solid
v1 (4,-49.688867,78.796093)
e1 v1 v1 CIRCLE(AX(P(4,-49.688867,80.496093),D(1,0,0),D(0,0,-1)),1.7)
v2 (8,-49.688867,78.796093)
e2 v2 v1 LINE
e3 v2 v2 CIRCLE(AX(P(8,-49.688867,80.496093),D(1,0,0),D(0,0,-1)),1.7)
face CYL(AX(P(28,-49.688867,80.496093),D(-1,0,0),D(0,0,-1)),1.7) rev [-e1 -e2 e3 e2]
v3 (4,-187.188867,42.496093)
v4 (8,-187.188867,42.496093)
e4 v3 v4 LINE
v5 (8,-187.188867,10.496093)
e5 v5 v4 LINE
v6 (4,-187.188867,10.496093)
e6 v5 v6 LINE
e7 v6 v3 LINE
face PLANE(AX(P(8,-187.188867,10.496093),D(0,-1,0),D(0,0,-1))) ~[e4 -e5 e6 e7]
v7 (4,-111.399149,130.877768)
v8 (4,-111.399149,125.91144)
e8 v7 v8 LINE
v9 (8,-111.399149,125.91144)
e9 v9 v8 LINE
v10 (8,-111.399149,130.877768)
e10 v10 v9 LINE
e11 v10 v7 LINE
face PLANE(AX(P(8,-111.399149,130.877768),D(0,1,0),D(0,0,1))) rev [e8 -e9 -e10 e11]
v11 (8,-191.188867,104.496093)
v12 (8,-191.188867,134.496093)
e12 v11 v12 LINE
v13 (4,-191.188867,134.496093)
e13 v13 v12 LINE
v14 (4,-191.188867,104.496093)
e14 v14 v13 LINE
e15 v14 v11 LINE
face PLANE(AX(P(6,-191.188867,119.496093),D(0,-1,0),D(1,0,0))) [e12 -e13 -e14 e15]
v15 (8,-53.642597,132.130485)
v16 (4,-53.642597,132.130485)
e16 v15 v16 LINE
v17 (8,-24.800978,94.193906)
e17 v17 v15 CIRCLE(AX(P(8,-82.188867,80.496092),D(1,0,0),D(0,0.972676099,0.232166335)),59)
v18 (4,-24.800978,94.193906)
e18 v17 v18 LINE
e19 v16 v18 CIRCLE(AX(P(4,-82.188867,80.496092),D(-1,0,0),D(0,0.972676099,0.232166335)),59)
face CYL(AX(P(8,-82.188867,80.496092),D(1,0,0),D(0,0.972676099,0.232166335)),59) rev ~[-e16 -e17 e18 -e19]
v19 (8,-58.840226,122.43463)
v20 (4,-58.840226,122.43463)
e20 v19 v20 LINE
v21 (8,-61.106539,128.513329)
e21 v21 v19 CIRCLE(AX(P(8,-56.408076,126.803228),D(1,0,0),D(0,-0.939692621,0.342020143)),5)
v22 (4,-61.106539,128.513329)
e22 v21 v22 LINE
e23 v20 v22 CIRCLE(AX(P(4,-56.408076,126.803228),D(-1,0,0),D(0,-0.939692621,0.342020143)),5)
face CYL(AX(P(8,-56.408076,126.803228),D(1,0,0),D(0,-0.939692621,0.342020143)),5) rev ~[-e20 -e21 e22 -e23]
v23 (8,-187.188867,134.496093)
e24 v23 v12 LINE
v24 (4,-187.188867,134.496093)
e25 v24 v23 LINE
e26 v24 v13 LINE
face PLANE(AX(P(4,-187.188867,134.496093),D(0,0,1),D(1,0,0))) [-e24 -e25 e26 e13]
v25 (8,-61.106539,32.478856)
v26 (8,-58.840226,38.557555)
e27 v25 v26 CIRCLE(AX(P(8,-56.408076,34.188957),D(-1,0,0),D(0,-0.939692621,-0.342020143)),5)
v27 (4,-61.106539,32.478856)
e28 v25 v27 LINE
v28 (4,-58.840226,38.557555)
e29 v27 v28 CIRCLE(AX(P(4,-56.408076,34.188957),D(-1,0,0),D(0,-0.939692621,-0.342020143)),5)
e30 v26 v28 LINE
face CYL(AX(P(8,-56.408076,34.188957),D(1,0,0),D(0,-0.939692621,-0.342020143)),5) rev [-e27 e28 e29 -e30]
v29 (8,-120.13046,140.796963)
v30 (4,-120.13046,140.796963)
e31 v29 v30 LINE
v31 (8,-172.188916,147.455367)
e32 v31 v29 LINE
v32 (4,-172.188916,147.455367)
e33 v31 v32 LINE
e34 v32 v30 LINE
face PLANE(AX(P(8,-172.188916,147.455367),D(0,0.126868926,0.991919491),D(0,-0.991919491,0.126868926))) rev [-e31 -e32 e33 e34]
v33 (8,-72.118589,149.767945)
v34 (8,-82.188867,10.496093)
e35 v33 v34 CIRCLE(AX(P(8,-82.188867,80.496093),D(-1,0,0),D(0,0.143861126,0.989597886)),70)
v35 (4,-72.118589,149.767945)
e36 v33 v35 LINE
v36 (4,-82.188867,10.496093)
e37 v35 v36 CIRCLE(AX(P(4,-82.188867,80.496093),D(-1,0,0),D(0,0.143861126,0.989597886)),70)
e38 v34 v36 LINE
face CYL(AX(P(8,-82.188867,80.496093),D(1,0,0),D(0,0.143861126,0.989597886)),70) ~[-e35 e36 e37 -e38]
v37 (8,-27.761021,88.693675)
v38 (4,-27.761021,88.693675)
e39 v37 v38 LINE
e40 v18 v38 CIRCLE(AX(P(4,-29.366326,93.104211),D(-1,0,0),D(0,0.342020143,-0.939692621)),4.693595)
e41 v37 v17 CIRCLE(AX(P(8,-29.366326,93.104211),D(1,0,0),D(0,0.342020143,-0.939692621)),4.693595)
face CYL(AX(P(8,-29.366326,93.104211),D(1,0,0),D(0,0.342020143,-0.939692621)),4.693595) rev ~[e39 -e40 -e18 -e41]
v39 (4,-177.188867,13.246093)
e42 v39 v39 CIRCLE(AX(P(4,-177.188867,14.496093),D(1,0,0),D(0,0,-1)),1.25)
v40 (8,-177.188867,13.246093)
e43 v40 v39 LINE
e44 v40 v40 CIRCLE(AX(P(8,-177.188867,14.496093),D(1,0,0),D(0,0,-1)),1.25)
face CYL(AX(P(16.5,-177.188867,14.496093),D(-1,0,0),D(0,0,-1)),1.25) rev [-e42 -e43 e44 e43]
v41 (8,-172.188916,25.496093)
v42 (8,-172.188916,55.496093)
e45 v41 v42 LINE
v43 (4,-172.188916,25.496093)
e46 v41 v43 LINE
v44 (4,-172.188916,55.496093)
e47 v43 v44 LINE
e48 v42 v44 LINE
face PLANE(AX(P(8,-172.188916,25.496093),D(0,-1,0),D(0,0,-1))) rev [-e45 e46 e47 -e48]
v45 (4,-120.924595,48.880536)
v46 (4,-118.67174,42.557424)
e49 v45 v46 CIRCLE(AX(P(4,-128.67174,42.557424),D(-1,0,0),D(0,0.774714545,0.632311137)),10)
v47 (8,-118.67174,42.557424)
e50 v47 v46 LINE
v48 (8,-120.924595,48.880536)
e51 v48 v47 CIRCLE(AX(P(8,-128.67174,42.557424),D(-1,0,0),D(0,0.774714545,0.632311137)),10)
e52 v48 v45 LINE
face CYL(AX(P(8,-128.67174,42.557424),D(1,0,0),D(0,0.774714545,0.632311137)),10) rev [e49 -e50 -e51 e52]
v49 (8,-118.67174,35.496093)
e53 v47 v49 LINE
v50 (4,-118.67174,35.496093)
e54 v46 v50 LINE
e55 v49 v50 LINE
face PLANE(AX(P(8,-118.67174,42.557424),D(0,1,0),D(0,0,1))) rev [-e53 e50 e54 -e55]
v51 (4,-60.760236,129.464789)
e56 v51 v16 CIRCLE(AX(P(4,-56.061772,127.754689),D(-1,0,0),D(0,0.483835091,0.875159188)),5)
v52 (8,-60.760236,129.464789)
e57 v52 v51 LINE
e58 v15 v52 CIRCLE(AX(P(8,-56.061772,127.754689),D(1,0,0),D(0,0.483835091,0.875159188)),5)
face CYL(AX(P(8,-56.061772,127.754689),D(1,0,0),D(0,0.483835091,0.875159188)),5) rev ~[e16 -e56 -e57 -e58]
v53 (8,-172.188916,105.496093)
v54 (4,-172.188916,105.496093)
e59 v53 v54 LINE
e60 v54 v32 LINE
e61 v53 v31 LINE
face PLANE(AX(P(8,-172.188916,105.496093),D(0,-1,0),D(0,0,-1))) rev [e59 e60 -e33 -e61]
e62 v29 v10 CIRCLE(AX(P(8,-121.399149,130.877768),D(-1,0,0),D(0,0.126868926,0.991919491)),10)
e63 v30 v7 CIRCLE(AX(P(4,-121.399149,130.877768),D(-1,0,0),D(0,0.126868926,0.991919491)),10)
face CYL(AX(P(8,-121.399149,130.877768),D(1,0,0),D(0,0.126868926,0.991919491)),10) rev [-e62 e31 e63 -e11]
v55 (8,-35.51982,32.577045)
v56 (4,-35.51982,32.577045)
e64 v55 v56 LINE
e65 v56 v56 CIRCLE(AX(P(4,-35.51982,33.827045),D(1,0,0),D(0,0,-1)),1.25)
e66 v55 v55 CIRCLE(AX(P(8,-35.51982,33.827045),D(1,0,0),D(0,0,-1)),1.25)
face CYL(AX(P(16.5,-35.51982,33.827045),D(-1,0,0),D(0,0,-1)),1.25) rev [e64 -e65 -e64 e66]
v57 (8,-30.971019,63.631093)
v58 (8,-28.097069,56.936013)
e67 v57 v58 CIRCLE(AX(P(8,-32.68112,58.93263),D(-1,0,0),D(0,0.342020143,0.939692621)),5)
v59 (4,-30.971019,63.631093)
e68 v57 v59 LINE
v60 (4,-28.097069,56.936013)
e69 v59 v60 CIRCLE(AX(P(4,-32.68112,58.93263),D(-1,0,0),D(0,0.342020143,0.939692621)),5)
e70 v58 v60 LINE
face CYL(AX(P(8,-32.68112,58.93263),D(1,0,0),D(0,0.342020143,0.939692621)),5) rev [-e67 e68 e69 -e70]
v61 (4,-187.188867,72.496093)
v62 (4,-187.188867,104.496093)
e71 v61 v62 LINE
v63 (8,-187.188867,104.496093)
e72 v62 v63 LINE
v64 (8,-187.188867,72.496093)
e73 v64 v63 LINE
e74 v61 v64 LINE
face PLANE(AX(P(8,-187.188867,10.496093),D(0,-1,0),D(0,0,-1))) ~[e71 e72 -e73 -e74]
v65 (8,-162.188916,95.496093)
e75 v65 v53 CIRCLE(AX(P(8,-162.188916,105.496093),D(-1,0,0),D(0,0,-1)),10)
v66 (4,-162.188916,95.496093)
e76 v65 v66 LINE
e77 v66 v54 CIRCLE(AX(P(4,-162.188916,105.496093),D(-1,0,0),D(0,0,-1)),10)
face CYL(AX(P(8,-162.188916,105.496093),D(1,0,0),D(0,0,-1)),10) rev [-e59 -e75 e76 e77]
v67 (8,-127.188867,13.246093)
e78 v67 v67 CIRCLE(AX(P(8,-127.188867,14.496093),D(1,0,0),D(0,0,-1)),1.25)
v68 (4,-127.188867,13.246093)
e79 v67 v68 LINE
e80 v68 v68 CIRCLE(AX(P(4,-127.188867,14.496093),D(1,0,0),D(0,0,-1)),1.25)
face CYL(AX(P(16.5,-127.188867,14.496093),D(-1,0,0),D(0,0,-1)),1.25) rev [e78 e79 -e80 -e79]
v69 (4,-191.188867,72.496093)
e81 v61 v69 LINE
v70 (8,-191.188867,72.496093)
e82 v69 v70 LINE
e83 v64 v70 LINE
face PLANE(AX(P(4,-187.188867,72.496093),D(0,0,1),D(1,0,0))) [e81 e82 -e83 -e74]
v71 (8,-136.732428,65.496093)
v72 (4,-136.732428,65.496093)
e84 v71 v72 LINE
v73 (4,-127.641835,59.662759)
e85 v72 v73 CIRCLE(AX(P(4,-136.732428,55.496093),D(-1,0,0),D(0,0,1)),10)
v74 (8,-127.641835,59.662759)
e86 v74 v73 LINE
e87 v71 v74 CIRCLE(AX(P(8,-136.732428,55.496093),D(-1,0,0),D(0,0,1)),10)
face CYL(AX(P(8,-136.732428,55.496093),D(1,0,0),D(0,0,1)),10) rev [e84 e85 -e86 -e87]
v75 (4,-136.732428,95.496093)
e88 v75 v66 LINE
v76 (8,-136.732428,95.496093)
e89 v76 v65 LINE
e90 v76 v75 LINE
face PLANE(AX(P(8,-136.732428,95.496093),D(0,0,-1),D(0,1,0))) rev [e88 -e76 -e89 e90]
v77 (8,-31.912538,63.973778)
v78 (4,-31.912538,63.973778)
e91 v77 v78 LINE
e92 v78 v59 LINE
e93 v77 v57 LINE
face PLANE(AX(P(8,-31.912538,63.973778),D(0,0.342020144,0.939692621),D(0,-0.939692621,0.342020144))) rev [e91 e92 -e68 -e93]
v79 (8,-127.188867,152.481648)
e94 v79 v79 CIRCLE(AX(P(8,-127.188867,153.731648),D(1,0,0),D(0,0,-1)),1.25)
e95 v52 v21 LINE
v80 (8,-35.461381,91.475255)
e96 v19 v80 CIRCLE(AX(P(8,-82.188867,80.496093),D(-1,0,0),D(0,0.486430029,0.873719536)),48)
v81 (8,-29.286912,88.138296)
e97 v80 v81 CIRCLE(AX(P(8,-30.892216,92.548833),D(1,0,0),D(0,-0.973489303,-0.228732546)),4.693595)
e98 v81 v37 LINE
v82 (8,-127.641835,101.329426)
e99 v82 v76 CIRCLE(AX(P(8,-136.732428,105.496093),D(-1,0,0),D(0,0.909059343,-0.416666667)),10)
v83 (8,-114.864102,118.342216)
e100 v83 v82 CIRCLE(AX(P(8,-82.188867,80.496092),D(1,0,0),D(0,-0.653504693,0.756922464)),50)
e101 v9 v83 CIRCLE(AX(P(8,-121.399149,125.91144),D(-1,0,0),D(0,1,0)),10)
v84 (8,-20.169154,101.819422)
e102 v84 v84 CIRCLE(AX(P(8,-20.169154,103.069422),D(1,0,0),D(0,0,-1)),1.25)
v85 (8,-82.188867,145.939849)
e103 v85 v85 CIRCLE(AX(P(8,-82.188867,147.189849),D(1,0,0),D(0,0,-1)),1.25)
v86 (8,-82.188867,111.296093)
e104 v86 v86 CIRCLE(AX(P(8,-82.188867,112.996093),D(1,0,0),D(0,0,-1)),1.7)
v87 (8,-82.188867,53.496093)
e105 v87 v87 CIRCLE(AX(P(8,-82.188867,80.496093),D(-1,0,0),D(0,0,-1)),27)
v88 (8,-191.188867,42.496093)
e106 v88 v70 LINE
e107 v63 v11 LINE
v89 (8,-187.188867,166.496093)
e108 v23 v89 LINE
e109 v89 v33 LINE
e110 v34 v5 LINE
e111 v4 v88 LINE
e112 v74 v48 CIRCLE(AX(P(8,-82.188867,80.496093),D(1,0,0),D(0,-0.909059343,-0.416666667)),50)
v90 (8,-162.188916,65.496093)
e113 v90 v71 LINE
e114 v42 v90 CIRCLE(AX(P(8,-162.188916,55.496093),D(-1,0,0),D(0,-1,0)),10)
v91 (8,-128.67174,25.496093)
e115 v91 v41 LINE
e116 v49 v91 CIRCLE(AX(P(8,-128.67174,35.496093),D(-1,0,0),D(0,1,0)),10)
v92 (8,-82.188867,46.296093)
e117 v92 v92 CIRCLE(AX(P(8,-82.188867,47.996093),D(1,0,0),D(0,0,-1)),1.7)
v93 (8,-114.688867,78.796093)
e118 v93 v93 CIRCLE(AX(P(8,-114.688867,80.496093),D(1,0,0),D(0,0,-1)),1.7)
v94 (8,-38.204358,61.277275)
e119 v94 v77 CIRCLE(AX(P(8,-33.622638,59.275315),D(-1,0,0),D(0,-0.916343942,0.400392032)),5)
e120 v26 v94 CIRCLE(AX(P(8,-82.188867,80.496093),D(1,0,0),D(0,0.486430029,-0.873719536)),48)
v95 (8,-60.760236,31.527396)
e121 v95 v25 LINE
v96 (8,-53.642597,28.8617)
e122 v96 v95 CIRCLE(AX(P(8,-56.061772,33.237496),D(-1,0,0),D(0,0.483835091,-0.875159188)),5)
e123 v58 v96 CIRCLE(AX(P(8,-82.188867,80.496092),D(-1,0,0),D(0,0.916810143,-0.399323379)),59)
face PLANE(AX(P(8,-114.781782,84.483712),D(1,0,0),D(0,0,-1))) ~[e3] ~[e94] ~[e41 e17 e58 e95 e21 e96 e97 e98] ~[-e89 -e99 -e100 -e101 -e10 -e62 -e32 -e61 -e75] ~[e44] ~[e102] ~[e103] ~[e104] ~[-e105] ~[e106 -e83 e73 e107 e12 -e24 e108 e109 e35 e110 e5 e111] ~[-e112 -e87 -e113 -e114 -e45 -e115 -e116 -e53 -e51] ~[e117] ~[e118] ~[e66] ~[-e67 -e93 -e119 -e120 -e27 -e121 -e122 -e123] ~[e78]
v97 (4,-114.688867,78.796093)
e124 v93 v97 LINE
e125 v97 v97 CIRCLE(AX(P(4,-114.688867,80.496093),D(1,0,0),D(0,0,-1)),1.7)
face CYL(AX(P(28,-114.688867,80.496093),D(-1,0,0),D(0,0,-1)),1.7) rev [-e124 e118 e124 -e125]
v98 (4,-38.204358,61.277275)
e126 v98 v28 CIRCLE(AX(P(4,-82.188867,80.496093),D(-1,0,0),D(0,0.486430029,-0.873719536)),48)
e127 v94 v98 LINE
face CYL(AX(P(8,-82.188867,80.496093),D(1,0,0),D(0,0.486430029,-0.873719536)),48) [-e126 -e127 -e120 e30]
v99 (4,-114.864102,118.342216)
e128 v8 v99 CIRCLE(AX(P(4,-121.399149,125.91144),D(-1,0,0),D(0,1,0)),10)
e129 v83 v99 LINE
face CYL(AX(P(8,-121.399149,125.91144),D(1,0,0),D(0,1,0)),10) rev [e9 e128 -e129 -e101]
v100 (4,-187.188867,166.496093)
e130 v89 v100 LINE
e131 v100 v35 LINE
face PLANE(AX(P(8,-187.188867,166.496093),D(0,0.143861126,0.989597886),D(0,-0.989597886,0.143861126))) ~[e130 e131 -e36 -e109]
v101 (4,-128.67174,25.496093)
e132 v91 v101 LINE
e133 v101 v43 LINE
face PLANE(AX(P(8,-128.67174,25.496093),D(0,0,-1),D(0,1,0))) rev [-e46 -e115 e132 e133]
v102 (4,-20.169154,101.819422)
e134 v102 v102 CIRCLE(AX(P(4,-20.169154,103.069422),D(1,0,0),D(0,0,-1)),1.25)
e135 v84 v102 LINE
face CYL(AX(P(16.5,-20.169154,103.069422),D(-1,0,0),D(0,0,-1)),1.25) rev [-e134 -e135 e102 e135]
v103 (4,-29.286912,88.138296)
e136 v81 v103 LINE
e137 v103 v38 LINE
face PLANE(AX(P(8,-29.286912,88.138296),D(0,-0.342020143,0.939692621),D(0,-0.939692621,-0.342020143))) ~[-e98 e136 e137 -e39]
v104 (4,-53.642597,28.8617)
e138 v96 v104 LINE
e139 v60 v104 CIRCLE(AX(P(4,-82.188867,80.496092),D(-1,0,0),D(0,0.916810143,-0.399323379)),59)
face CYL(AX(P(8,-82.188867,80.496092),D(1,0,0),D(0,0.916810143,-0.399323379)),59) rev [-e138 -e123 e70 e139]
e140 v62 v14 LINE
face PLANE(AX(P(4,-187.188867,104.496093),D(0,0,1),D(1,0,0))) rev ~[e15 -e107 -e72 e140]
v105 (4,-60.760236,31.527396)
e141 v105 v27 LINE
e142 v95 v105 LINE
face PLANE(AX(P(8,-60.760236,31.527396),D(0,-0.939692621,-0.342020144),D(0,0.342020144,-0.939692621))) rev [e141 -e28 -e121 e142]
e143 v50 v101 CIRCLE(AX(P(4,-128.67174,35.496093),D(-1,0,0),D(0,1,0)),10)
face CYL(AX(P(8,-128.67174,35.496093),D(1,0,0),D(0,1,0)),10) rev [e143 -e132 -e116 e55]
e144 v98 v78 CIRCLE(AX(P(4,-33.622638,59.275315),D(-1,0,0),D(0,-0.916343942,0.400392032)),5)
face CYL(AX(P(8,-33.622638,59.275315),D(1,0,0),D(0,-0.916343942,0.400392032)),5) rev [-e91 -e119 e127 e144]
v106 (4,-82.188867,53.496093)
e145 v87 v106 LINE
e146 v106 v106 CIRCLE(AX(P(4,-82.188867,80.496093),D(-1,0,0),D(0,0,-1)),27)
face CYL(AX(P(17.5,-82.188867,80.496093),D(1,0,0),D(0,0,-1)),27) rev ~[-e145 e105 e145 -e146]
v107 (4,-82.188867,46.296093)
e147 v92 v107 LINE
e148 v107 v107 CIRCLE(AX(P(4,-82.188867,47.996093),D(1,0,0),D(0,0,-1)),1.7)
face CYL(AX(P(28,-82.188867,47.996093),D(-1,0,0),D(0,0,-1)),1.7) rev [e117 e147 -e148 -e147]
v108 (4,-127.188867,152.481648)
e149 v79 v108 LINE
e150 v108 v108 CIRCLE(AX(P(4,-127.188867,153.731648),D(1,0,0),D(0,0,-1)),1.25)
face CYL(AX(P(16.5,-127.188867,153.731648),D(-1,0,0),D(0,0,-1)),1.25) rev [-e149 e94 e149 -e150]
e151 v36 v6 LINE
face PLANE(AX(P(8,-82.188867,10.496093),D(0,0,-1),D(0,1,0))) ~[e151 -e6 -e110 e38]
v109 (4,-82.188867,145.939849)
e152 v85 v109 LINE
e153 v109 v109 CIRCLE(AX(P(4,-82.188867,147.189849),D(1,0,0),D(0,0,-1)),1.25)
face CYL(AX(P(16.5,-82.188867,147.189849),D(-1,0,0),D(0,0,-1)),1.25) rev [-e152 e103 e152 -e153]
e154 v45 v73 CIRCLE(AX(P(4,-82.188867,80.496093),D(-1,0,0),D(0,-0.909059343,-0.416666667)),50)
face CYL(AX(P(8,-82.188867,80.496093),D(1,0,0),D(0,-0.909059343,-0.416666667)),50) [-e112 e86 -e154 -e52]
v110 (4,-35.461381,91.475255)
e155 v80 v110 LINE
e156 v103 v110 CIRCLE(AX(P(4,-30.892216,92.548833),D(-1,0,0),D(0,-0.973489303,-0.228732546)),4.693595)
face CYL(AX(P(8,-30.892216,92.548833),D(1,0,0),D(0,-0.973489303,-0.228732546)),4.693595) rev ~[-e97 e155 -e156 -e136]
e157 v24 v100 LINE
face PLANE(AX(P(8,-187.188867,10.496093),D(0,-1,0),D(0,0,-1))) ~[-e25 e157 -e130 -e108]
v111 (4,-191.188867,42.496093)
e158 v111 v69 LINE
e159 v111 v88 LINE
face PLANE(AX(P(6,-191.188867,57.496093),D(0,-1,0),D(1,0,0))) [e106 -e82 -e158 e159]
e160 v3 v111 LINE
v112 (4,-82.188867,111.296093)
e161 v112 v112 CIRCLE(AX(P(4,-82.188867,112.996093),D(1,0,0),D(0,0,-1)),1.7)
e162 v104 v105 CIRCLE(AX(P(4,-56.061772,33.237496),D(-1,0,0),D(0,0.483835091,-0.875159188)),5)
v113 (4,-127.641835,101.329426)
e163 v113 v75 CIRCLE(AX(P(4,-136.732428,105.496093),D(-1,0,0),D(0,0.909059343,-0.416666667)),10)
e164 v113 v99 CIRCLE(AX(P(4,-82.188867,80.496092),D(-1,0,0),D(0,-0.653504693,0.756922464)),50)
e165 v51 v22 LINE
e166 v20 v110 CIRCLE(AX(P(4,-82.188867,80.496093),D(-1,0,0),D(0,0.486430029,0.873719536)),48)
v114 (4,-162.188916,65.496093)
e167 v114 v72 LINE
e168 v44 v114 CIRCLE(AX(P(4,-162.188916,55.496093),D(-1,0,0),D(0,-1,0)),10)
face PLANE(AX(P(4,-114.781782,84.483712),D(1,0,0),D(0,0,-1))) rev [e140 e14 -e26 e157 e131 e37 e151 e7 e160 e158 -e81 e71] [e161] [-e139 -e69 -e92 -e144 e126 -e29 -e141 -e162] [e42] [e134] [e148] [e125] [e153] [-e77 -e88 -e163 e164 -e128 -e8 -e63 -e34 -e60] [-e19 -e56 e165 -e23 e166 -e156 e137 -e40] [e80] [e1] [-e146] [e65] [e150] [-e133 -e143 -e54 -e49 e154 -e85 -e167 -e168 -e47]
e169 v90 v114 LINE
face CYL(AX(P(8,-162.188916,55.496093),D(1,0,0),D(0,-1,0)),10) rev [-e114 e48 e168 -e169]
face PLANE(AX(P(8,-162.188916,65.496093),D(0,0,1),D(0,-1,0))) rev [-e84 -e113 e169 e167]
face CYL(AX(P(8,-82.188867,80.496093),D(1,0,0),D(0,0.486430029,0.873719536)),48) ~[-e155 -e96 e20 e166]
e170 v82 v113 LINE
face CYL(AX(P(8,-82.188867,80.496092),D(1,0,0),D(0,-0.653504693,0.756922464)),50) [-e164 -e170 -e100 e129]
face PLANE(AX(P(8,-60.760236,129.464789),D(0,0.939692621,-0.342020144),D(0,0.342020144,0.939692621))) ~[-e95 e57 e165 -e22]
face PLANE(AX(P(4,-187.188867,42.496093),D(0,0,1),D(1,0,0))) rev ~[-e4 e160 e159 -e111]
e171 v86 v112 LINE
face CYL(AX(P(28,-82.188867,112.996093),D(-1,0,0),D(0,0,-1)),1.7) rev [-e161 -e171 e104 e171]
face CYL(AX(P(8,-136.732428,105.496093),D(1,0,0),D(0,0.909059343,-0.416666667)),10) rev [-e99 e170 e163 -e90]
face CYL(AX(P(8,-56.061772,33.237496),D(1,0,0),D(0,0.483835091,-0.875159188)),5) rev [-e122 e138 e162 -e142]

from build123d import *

# Parameters (mm, degrees)
AUFSATZ_LINEAR_AUSTRAGEN3_DEPTH      = 4
SCHNITT_LINEAR_AUSTRAGEN5_DEPTH      = 9.5
SCHNITT_LINEAR_AUSTRAGEN5_DEPTH_BACK = 9.5
SKIZZE2_24_R                         = 27
DURCHGANGSLOCH_F_R_M31_D             = 3.4
DURCHGANGSLOCH_F_R_M31_DEPTH         = 20
DURCHGANGSLOCH_F_R_M31_TIP           = 1.021463052
M3_GEWINDEBOHRUNG1_D                 = 2.5
M3_GEWINDEBOHRUNG1_DEPTH             = 8.5
M3_GEWINDEBOHRUNG1_TIP               = 0.751075774
SCHNITT_LINEAR_AUSTRAGEN6_DEPTH      = 11.5
SCHNITT_LINEAR_AUSTRAGEN7_DEPTH      = 251.552631004
SKIZZE13_W                           = 4
SKIZZE13_H                           = 30
AUFSATZ_LINEAR_AUSTRAGEN4_DEPTH      = 4


with BuildPart() as part:
    # Skizze2 → Aufsatz-Linear austragen3 (new body)
    with BuildSketch(Plane(origin=(0, 0, 0), x_dir=(0, 0, -1), z_dir=(1, 0, 0))):
        with BuildLine():
            Line((-10.496092502, -82.188867417), (-10.496092502, -187.188867417))
            Line((-10.496092502, -187.188867417), (-166.496092502, -187.188867417))
            Line((-166.496092502, -187.188867417), (-149.76794454, -72.118588605))
            ThreePointArc((-149.76794454, -72.118588605), (-75.447807774, -12.371141721), (-10.496092502, -82.188867417))
        make_face()
    extrude(amount=AUFSATZ_LINEAR_AUSTRAGEN3_DEPTH)

    # Skizze2<24> → Schnitt-Linear austragen5 (cut, two sides: drawn at the far end of the back side and taken through both)
    with BuildSketch(Plane(origin=(0, 0, 0), x_dir=(0, 0, -1), z_dir=(1, 0, 0)).offset(-SCHNITT_LINEAR_AUSTRAGEN5_DEPTH_BACK)):
        with Locations((-80.496092502, -82.188867417)):
            Circle(SKIZZE2_24_R)
    extrude(amount=SCHNITT_LINEAR_AUSTRAGEN5_DEPTH + SCHNITT_LINEAR_AUSTRAGEN5_DEPTH_BACK, mode=Mode.SUBTRACT)

    # Durchgangsloch für M31
    with Locations(Plane.ZY):
        with Locations((47.996092502, -82.188867417), (80.496092502, -49.688867417), (112.996092502, -82.188867417), (80.496092502, -114.688867417)):
            Hole(DURCHGANGSLOCH_F_R_M31_D / 2, depth=DURCHGANGSLOCH_F_R_M31_DEPTH)
            with Locations((0, 0, -(DURCHGANGSLOCH_F_R_M31_DEPTH + DURCHGANGSLOCH_F_R_M31_TIP / 2))):  # 118° drill point
                Cone(0, DURCHGANGSLOCH_F_R_M31_D / 2, DURCHGANGSLOCH_F_R_M31_TIP, mode=Mode.SUBTRACT)

    # M3 Gewindebohrung1
    with Locations(Plane.ZY):
        with Locations((33.827044944, -35.519819858), (103.069421962, -20.169154445), (14.496092502, -127.188867417), (14.496092502, -177.188867417), (147.189848539, -82.188867417), (153.731647743, -127.188867417)):
            Hole(M3_GEWINDEBOHRUNG1_D / 2, depth=M3_GEWINDEBOHRUNG1_DEPTH)
            with Locations((0, 0, -(M3_GEWINDEBOHRUNG1_DEPTH + M3_GEWINDEBOHRUNG1_TIP / 2))):  # 118° drill point
                Cone(0, M3_GEWINDEBOHRUNG1_D / 2, M3_GEWINDEBOHRUNG1_TIP, mode=Mode.SUBTRACT)

    # Skizze2<28> → Schnitt-Linear austragen6 (cut)
    with BuildSketch(Plane(origin=(0, 0, 0), x_dir=(0, 0, -1), z_dir=(1, 0, 0))):
        with BuildLine():
            Line((-25.496092502, -172.188916155), (-55.496092502, -172.188916155))
            ThreePointArc((-55.496092502, -172.188916155), (-62.567160314, -169.259983967), (-65.496092502, -162.188916155))
            Line((-65.496092502, -162.188916155), (-65.496092502, -146.461723273))
            Line((-65.496092502, -146.461723273), (-65.496092502, -136.73242799))
            ThreePointArc((-65.496092502, -136.73242799), (-63.912346618, -131.331810741), (-59.662759169, -127.641834561))
            ThreePointArc((-59.662759169, -127.641834561), (-54.057449416, -124.627035988), (-48.880535655, -120.924594661))
            ThreePointArc((-48.880535655, -120.924594661), (-45.913653233, -119.251775819), (-42.557424285, -118.67174011))
            Line((-42.557424285, -118.67174011), (-35.496092502, -118.67174011))
            ThreePointArc((-35.496092502, -118.67174011), (-28.425024691, -121.600672299), (-25.496092502, -128.67174011))
            Line((-25.496092502, -128.67174011), (-25.496092502, -172.188916155))
        make_face()
        with BuildLine():
            Line((-130.877768415, -111.399148996), (-125.911440332, -111.399148996))
            ThreePointArc((-125.911440332, -111.399148996), (-121.749137442, -112.3065567), (-118.342215694, -114.864102066))
            ThreePointArc((-118.342215694, -114.864102066), (-110.523367877, -122.168396348), (-101.329425836, -127.641834561))
            ThreePointArc((-101.329425836, -127.641834561), (-97.079838387, -131.331810741), (-95.496092502, -136.73242799))
            Line((-95.496092502, -136.73242799), (-95.496092502, -146.461723273))
            Line((-95.496092502, -146.461723273), (-95.496092502, -162.188916155))
            ThreePointArc((-95.496092502, -162.188916155), (-98.425024691, -169.259983967), (-105.496092502, -172.188916155))
            Line((-105.496092502, -172.188916155), (-135.495711073, -172.188916155))
            Line((-135.495711073, -172.188916155), (-147.455367056, -172.188916155))
            Line((-147.455367056, -172.188916155), (-140.79696332, -120.130459738))
            ThreePointArc((-140.79696332, -120.130459738), (-137.485079041, -113.892921828), (-130.877768415, -111.399148996))
        make_face()
    extrude(amount=SCHNITT_LINEAR_AUSTRAGEN6_DEPTH, mode=Mode.SUBTRACT)

    # Skizze12 → Schnitt-Linear austragen7 (cut, through all)
    with BuildSketch(Plane(origin=(0, 0, 0), x_dir=(0, -1, 0), z_dir=(-1, 0, 0))):
        with BuildLine():
            Line((31.912537744, 63.973777934), (30.971018966, 63.631093123))
            ThreePointArc((30.971018966, 63.631093123), (28.08654575, 60.904910522), (28.097068966, 56.936013123))
            ThreePointArc((28.097068966, 56.936013123), (38.550531474, 40.788465575), (53.642597032, 28.861700406))
            ThreePointArc((53.642597032, 28.861700406), (57.815417493, 28.555111356), (60.760235592, 31.52739563))
            Line((60.760235592, 31.52739563), (61.10653899, 32.478856395))
            ThreePointArc((61.10653899, 32.478856395), (61.093057729, 35.935652601), (58.840226031, 38.55755479))
            ThreePointArc((58.840226031, 38.55755479), (46.6574065, 48.223576562), (38.204358174, 61.277274988))
            ThreePointArc((38.204358174, 61.277274988), (35.592240185, 63.871037738), (31.912537744, 63.973777934))
        make_face()
        with BuildLine():
            Line((29.286912013, 88.138295897), (27.761021392, 88.693674664))
            ThreePointArc((27.761021392, 88.693674664), (25.233242691, 90.879922217), (24.8009776, 94.193906286))
            ThreePointArc((24.8009776, 94.193906286), (35.221155466, 116.203711215), (53.642597032, 132.130484599))
            ThreePointArc((53.642597032, 132.130484599), (57.815417493, 132.437073649), (60.760235592, 129.464789375))
            Line((60.760235592, 129.464789375), (61.10653899, 128.51332861))
            ThreePointArc((61.10653899, 128.51332861), (61.093057729, 125.056532404), (58.840226031, 122.434630215))
            ThreePointArc((58.840226031, 122.434630215), (43.883689457, 109.422090178), (35.461380891, 91.475254721))
            ThreePointArc((35.461380891, 91.475254721), (33.123794278, 88.419680828), (29.286912013, 88.138295897))
        make_face()
    extrude(amount=-SCHNITT_LINEAR_AUSTRAGEN7_DEPTH, mode=Mode.SUBTRACT)


with BuildPart() as body_2:
    # Spiegeln1: mirrored copy
    add(part.part.mirror(Plane(origin=(4, -82.188867417, 80.496092502), x_dir=(0, 0, 1), z_dir=(1, 0, 0))))

    # Skizze13 → Aufsatz-Linear austragen4 (add)
    with BuildSketch(Plane.XZ.offset(187.188867417)):
        with Locations((6, 57.496092502)):
            Rectangle(SKIZZE13_W, SKIZZE13_H)
        with Locations((6, 119.496092502)):
            Rectangle(SKIZZE13_W, SKIZZE13_H)
    extrude(amount=AUFSATZ_LINEAR_AUSTRAGEN4_DEPTH)


solid = body_2.part
